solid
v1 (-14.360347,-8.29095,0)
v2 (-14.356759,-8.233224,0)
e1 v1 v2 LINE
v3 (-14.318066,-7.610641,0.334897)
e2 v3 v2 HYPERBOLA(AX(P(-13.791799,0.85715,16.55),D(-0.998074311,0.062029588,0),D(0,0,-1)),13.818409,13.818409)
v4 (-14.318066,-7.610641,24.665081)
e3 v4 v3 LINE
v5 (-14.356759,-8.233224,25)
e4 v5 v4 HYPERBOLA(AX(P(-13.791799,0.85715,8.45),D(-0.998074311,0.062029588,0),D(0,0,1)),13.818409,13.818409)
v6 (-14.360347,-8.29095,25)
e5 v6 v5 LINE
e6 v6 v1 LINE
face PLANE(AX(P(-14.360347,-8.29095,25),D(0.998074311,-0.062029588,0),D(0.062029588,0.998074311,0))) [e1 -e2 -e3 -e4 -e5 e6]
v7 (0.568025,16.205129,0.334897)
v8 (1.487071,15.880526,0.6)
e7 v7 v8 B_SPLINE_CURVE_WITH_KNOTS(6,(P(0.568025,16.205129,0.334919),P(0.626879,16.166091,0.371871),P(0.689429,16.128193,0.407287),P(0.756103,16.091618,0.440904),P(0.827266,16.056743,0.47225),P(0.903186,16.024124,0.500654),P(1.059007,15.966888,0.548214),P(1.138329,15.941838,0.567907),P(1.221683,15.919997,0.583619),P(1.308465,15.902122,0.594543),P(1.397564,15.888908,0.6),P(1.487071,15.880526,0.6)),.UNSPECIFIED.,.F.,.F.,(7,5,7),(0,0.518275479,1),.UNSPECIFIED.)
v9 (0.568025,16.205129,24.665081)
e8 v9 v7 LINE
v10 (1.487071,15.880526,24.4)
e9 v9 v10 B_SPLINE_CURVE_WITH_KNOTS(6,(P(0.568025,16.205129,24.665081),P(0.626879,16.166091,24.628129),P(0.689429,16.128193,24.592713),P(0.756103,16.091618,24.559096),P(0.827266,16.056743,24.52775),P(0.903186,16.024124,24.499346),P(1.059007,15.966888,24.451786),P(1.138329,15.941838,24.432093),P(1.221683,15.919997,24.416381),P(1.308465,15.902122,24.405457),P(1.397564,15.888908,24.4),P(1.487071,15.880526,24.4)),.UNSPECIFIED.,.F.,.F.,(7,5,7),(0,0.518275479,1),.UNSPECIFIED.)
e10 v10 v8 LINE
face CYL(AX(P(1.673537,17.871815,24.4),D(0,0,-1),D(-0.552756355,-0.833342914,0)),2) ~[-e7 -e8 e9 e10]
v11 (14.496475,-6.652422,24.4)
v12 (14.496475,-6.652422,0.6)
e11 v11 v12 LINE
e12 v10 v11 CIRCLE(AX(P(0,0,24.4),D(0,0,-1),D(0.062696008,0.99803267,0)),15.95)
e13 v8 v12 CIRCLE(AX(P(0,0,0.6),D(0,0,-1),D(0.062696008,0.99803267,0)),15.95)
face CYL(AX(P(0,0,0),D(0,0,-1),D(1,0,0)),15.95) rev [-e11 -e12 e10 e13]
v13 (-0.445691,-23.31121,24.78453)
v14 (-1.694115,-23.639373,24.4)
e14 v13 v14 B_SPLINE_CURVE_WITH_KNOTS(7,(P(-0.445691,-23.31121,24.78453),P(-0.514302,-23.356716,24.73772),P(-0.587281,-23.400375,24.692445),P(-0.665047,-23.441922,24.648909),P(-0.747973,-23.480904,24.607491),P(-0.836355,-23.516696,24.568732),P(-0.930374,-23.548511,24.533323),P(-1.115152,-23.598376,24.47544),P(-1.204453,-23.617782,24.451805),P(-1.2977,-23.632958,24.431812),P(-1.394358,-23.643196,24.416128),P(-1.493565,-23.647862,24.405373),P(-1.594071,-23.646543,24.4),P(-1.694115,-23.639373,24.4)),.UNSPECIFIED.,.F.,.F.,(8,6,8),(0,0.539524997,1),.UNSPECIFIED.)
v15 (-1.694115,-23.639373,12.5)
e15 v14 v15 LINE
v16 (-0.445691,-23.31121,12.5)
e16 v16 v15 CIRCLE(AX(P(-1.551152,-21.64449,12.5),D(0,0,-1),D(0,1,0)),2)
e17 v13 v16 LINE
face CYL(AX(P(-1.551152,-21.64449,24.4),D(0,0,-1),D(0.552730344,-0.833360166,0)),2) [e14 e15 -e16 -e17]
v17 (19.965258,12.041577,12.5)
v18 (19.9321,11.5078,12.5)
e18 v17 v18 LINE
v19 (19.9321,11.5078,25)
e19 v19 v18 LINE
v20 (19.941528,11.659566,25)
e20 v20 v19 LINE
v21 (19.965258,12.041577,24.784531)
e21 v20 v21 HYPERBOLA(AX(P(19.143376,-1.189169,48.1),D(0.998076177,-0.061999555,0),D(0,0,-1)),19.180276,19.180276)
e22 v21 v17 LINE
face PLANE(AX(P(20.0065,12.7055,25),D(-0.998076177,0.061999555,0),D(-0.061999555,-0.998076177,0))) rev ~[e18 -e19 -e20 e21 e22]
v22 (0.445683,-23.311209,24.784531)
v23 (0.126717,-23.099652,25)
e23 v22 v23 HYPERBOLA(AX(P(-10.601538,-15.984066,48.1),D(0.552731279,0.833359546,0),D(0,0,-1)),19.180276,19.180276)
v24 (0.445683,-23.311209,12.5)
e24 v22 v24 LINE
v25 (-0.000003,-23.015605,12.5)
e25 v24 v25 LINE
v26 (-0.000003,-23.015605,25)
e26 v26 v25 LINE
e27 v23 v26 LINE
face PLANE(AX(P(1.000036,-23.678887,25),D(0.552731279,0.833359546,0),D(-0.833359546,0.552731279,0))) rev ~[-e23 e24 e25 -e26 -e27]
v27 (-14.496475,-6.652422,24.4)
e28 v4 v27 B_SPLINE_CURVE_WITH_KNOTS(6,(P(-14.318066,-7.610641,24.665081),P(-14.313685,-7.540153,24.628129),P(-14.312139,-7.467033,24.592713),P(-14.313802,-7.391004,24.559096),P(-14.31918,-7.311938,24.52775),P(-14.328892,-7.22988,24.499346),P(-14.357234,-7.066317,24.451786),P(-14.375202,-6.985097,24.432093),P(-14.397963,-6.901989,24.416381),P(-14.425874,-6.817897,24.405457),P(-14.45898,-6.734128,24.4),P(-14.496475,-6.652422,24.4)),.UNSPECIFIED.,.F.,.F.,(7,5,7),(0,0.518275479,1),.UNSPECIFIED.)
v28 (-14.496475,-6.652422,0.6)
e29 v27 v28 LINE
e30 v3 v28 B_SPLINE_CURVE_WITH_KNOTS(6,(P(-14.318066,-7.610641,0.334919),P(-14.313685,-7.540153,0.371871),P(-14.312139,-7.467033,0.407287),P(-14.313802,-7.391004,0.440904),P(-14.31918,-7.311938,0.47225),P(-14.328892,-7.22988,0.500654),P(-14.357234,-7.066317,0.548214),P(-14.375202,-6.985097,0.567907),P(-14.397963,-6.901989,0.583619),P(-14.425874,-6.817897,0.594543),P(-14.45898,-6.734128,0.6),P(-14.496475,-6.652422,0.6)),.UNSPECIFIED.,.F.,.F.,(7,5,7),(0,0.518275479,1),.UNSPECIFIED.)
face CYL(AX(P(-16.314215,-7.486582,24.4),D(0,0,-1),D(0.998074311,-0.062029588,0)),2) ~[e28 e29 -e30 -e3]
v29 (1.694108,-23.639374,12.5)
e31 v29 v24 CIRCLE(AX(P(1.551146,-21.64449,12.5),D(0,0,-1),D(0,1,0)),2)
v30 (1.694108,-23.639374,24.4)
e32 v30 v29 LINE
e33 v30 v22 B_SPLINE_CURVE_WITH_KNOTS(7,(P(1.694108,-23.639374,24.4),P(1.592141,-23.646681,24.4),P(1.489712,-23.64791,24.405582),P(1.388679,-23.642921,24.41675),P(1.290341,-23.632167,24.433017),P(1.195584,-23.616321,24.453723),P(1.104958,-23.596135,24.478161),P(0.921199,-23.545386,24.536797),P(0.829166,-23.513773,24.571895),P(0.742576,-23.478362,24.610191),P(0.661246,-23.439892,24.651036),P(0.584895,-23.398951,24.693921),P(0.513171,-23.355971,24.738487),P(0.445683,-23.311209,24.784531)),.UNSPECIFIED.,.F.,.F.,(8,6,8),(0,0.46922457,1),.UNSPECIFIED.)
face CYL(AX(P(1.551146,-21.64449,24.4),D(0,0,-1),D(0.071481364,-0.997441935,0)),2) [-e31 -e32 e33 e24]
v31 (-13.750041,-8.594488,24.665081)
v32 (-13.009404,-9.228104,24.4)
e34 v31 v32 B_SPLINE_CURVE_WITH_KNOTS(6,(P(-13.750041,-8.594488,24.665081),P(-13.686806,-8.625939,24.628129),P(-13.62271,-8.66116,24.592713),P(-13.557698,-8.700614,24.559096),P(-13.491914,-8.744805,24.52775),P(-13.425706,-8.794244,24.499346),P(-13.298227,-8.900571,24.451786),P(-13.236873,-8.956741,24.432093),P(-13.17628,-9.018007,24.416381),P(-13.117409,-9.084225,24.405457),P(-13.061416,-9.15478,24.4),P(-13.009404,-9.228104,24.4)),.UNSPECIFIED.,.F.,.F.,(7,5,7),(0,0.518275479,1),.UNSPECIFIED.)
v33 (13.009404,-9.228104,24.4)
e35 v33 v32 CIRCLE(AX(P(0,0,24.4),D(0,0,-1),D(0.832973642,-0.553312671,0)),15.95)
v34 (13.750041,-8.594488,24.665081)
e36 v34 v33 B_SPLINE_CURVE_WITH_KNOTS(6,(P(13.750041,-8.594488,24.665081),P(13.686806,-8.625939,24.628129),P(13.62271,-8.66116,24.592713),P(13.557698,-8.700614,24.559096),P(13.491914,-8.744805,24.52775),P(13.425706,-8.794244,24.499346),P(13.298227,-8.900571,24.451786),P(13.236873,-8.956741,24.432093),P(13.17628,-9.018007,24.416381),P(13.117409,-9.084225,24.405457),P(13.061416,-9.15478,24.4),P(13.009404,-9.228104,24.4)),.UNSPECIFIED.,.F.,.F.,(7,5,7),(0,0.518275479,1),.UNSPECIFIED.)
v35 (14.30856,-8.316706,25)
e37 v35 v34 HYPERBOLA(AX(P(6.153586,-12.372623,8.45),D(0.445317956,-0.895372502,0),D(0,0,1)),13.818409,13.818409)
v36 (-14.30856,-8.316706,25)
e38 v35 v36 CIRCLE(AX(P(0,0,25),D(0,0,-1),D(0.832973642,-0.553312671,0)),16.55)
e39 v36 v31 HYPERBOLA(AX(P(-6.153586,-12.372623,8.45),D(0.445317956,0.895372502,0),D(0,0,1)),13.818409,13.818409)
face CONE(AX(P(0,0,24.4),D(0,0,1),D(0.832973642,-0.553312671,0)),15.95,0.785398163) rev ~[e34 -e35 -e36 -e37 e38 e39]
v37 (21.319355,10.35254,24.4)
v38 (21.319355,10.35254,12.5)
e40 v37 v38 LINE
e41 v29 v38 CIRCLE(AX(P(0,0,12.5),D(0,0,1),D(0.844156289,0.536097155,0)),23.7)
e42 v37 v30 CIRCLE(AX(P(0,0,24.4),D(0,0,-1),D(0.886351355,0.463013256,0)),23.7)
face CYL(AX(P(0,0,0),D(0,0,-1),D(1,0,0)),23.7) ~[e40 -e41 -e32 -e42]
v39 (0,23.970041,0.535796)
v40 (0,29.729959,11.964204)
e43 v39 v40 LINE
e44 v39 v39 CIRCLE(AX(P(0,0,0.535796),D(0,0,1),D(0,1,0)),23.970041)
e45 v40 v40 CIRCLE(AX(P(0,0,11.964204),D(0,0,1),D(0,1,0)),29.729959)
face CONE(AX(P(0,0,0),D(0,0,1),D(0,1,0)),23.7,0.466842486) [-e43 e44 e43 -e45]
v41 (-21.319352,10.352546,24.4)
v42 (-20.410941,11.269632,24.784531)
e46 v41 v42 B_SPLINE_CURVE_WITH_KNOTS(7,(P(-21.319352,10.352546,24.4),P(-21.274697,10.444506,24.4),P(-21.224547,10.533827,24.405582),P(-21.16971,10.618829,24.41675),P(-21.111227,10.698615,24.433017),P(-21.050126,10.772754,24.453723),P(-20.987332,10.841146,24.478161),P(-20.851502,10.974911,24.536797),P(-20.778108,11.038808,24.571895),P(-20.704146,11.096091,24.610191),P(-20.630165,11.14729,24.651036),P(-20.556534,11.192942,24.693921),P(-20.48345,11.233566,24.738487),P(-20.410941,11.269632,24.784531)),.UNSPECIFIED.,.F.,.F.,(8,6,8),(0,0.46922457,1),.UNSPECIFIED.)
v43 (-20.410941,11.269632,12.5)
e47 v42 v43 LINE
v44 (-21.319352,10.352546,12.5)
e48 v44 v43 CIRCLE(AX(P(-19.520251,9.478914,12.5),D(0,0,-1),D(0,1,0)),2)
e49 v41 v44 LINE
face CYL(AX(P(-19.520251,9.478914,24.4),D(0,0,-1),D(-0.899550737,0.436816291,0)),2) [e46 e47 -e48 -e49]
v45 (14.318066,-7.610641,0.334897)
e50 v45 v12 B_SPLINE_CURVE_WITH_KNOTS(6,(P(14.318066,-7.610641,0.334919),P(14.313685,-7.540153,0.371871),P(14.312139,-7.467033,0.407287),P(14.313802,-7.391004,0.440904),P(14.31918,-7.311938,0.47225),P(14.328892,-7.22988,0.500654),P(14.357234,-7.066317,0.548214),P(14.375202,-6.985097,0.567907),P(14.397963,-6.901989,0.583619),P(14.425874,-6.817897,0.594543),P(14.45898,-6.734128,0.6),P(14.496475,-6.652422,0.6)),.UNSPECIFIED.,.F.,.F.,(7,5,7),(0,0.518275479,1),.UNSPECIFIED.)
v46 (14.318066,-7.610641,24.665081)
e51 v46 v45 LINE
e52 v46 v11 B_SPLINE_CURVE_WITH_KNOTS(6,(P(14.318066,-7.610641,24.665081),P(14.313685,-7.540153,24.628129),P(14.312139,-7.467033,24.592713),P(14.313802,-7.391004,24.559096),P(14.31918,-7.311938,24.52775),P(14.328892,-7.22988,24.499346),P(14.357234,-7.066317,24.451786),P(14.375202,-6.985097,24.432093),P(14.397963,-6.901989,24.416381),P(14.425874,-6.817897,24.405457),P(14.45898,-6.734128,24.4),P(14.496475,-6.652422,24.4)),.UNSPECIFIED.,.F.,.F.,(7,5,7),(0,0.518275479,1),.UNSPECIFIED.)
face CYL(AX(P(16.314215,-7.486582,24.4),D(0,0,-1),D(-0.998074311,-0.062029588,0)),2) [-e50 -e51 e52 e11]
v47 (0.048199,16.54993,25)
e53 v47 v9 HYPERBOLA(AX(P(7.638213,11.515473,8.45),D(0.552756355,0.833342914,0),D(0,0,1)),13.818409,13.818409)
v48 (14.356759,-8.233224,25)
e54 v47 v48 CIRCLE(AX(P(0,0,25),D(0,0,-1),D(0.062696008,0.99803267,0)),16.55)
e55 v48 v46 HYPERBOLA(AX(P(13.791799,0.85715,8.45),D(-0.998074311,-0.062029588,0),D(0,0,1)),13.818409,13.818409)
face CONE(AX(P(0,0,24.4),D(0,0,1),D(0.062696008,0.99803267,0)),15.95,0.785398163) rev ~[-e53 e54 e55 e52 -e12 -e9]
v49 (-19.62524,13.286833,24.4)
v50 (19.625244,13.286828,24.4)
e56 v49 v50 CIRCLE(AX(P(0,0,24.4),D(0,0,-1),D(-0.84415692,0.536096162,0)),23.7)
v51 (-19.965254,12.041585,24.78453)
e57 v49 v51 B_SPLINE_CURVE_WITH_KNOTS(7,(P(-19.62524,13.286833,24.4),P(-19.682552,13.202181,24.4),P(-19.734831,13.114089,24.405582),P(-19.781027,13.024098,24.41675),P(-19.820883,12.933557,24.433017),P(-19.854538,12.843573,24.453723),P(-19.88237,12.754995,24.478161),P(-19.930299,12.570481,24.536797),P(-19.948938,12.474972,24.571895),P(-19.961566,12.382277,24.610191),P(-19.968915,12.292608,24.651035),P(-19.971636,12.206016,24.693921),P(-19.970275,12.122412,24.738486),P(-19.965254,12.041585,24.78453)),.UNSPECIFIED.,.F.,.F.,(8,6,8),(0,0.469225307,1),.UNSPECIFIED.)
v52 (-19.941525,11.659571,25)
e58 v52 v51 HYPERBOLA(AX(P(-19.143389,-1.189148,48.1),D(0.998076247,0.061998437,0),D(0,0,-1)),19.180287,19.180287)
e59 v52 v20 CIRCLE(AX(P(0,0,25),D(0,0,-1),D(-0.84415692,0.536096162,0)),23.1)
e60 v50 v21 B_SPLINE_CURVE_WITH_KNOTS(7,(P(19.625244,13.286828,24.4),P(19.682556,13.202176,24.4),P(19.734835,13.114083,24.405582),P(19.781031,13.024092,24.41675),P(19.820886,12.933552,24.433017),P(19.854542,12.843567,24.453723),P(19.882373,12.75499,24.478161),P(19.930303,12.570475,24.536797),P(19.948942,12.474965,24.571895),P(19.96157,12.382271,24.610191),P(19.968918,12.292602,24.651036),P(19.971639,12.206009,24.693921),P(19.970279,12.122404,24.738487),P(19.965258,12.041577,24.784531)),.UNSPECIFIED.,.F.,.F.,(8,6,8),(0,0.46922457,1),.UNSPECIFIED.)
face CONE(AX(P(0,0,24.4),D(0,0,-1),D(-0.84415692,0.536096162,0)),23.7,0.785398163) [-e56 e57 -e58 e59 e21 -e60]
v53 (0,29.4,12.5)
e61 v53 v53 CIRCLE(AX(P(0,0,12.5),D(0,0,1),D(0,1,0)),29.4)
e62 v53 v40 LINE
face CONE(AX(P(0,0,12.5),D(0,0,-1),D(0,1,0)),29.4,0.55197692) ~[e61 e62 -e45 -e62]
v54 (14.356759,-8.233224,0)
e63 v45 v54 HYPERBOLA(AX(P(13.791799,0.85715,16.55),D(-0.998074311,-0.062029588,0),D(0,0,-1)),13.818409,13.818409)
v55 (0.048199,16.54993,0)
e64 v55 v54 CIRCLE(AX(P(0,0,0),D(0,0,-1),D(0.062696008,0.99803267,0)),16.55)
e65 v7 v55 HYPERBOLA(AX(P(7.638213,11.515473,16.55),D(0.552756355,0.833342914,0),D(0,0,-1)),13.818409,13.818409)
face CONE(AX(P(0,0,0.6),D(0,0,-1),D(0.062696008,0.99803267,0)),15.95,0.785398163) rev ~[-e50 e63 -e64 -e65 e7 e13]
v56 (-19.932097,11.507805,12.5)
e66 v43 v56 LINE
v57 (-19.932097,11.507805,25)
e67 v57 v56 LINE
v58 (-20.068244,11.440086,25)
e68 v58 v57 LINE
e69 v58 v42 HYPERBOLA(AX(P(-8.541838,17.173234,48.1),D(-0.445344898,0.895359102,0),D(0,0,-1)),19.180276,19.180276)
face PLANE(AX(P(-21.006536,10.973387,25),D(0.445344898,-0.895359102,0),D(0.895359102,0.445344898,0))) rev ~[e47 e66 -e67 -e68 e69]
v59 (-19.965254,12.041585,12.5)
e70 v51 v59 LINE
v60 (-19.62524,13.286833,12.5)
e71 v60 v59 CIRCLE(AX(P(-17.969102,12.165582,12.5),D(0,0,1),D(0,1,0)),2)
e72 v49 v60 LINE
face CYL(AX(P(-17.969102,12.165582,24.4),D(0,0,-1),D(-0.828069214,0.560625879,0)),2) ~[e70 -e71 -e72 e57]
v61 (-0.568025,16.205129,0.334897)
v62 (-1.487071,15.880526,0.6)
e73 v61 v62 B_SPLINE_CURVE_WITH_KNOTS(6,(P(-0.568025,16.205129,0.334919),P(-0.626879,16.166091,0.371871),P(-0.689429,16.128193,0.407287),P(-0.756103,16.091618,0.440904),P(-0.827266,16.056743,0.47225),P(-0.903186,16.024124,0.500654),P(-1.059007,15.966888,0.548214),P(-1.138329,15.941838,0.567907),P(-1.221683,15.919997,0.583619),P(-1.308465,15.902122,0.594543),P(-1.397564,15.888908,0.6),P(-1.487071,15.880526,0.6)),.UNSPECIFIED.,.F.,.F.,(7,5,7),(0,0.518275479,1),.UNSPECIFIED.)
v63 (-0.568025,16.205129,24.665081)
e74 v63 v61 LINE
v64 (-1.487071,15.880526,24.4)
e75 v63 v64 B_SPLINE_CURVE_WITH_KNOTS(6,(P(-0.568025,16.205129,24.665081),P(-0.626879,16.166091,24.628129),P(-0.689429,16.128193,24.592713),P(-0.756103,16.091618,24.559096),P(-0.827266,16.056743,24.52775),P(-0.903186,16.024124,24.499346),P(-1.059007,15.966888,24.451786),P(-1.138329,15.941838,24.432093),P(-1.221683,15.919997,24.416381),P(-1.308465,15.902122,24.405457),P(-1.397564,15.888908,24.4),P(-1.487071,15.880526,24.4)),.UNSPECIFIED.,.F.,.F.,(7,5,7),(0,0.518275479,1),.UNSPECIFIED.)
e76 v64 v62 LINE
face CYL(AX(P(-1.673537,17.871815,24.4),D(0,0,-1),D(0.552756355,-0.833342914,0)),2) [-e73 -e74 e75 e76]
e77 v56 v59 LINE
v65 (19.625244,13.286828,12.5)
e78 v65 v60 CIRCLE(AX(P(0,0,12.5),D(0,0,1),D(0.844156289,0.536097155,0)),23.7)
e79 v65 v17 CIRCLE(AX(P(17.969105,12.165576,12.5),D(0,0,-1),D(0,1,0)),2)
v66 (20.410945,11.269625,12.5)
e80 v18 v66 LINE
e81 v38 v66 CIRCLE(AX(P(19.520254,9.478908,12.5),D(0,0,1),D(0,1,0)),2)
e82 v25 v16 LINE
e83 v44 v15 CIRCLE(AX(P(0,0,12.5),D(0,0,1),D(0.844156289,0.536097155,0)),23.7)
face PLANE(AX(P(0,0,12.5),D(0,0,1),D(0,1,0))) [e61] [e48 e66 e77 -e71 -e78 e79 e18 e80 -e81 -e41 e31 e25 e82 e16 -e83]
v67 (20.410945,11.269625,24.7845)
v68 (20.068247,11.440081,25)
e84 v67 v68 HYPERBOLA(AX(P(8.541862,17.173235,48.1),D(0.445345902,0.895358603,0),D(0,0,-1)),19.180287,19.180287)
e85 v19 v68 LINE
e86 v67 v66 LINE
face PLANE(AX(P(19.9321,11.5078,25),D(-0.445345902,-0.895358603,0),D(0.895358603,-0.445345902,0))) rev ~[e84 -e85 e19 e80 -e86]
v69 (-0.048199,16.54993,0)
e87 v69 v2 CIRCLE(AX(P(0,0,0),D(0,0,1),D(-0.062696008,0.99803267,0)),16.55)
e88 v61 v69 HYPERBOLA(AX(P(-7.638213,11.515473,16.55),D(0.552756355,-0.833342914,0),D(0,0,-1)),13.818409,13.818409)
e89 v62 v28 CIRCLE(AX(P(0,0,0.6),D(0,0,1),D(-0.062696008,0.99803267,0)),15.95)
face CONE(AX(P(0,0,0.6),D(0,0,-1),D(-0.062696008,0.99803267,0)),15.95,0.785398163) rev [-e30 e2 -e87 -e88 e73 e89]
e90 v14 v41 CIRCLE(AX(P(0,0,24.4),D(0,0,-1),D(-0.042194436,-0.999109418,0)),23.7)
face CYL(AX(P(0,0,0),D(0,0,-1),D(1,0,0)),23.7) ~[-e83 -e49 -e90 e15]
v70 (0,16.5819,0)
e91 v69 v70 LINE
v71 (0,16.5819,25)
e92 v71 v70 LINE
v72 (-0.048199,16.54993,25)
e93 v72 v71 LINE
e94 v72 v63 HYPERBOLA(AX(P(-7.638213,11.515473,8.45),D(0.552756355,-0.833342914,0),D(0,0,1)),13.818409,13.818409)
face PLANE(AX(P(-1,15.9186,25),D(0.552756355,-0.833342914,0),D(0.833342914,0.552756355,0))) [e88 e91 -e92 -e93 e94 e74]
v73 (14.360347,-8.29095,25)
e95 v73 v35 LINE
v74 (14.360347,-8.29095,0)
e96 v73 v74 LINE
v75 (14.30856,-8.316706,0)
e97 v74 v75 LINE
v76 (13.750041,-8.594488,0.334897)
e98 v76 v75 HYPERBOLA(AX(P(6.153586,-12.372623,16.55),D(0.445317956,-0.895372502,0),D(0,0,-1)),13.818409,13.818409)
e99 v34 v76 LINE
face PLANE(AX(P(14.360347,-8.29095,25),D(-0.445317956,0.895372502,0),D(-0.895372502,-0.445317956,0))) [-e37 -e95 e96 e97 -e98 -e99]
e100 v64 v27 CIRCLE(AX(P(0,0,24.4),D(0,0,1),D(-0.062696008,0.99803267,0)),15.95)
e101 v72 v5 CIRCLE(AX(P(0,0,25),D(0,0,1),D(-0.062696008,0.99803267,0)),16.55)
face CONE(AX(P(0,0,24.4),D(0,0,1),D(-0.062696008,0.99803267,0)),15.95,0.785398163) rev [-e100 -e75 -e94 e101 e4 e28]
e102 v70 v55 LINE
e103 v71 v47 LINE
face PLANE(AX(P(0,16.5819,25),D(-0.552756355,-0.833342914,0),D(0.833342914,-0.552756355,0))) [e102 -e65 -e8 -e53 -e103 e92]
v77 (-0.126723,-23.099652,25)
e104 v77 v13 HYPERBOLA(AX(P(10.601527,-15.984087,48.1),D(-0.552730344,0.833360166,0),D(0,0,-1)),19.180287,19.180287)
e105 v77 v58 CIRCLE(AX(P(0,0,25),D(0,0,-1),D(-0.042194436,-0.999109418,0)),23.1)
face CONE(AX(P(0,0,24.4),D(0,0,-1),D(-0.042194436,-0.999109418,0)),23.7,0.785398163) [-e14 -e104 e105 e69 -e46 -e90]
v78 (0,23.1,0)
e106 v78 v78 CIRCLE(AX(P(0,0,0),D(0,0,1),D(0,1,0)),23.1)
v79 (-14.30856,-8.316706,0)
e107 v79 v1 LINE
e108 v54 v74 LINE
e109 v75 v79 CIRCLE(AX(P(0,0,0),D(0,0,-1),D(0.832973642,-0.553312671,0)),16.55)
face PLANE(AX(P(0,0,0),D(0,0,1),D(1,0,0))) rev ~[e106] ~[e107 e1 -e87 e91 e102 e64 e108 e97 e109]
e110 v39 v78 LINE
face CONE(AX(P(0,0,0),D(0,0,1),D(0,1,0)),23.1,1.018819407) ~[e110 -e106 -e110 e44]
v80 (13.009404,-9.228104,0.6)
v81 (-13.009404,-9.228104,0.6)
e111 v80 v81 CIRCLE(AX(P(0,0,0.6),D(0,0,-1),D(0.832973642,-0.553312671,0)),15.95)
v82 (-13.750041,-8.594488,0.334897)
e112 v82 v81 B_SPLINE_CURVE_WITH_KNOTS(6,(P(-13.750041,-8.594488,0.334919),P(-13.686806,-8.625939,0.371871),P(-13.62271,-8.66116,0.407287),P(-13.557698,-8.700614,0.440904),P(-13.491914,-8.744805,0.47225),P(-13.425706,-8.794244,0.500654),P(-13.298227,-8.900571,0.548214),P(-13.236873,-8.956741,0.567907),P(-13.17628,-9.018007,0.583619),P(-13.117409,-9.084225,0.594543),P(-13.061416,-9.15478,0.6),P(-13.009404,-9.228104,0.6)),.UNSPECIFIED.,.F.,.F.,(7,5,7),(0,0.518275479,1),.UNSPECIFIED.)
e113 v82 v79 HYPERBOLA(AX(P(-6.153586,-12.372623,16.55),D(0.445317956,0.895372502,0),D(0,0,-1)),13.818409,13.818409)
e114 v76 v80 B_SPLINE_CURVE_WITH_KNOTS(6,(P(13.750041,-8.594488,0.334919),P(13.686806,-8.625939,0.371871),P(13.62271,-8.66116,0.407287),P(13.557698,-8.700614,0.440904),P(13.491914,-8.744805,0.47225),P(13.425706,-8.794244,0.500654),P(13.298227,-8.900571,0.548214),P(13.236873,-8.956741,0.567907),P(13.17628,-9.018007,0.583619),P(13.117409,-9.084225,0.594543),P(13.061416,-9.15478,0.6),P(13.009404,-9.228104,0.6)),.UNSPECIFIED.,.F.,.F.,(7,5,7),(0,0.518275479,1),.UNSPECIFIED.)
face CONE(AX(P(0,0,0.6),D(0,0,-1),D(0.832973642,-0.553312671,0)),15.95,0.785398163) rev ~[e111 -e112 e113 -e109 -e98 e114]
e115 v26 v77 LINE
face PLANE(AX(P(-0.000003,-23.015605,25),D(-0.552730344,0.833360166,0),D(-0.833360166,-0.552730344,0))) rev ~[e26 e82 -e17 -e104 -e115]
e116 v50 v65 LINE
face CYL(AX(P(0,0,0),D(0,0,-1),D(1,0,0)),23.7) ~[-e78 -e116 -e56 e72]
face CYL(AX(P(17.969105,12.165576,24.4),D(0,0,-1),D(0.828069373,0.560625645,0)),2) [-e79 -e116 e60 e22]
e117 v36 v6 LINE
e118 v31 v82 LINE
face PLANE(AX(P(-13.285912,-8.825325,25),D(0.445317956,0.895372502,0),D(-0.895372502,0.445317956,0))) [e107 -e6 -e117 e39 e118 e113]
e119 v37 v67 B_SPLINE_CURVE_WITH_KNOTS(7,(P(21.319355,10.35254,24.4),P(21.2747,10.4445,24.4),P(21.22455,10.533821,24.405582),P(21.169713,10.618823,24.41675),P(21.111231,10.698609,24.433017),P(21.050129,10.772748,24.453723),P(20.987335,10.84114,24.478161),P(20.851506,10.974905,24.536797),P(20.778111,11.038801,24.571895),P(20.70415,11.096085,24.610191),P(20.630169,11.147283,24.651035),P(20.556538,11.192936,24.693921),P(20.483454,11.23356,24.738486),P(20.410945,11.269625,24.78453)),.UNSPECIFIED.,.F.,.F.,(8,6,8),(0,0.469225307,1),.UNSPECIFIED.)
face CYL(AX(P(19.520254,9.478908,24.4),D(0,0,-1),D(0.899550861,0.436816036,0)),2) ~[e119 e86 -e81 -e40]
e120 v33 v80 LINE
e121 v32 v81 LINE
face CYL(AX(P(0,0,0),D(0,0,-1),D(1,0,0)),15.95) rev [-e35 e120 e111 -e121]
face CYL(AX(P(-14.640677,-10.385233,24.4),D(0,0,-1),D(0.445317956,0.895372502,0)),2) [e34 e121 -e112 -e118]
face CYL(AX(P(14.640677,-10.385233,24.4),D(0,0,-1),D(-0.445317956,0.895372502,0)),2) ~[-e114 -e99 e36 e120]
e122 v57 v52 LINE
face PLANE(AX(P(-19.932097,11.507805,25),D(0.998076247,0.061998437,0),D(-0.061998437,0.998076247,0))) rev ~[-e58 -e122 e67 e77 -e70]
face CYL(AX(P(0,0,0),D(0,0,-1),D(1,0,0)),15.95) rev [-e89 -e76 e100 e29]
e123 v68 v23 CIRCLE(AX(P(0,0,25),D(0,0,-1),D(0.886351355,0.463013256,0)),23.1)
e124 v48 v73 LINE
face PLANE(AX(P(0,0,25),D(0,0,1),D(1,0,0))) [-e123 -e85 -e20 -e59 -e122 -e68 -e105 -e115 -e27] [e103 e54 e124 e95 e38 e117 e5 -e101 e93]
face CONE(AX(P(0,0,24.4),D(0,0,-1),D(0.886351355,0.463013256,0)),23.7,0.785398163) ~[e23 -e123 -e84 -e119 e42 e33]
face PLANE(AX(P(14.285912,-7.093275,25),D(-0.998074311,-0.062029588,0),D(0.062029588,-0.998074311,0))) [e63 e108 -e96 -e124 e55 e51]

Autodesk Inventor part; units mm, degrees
ref_plane "YZ Plane" through (0, 0, 0) normal (1, 0, 0) x (0, 1, 0)
ref_plane "XZ Plane" through (0, 0, 0) normal (0, 1, 0) x (-1, 0, 0)
ref_plane "XY Plane" through (0, 0, 0) normal (0, 0, 1) x (1, 0, 0)
sketch "Sketch1" plane through (0, 0, 0) normal (0, 0, 1) x (1, 0, 0)
  circle A0 centre (0, 0) radius 15.95
  circle A1 centre (0, 0) radius 23.7
  dimension "d0" = 47.4
  dimension "d1" = 31.9
extrude "Extrusion1" add sketch "Sketch1" along normal blind 25
sketch "Sketch2" plane through (0, 0, 0) normal (1, 0, 0) x (0, 1, 0)
  line L0 (23.7, 0) -> (23.7, 25) projected
  line L1 (23.7, 0) -> (30, 12.5)
  line L2 (30, 12.5) -> (23.7, 12.5)
  line L3 (0, 0) -> (0, 25)
  line L4 (23.7, 25) -> (-23.7, 25) projected
  point P0 (0, 12.5)
  dimension "d4" = 12.5
  dimension "d5" = 60
revolve "Revolution1" add sketch "Sketch2" angle 360 about axis through (0, 0, 0) along (0, 0, 1)
sketch "Sketch3" plane through (0, 0, 25) normal (0, 0, 1) x (1, 0, 0)
  circle A0 centre (0, 0) radius 15.95 projected
  circle A1 centre (0, 0) radius 15.95 projected
  line L0 (-1, 15.9186) -> (0, 16.5819)
  line L1 (0, 16.5819) -> (1, 15.9186)
  line L2 (-1, 15.9186) -> (1, 15.9186)
  circle A2 centre (0, 0) radius 23.7 projected
  line L3 (20.0065, 12.7055) -> (19.9321, 11.5078)
  line L4 (19.9321, 11.5078) -> (21.0065, 10.9734)
  line L5 (20.0065, 12.7055) -> (21.0065, 10.9734)
  line L6 (20.5065, 11.8394) -> (0, 0) construction
  line L7 (0, 0) -> (0, 16.5819) construction
  dimension "d11" = 1.2
  dimension "d12" = 2
  dimension "d16" = 1.2
  dimension "d17" = 2
  dimension "d26" = 60
extrude "Extrusion2" cut sketch "Sketch3" against normal through all contours L2 A0 | A0 L0 L1 picked at (-0.1112, 15.9279)
extrude "Extrusion3" cut sketch "Sketch3" against normal up to surface (12.5 mm away) contours L5 A2 | L4 L3 L5
pattern_circular "Circular Pattern1" count 3 over 360 about axis through (0, 0, 0) along (0, 0, 1) of "Extrusion3"
pattern_circular "Circular Pattern2" count 3 over 360 about axis through (0, 0, 0) along (0, 0, 1) of "Extrusion2"
chamfer "Chamfer1" distance 0.6 angle 45 11 edges at (-13.8131, 7.975, 0) (0, -15.95, 0) (13.8131, 7.975, 0) (0, -23.7, 0) (0, -30, 12.5) (20.5248, -11.85, 25) (0, 23.7, 25) (-20.5248, -11.85, 25) (-13.8131, 7.975, 25) (0, -15.95, 25) (13.8131, 7.975, 25)
fillet "Fillet1" radius 2 12 edges at (-1, 15.9186, 12.5) (1, 15.9186, 12.5) (20.0065, 12.7055, 18.45) (21.0065, 10.9734, 18.45) (-1, -23.6789, 18.45) (1, -23.6789, 18.45) (-20.0065, 12.7055, 18.45) (-21.0065, 10.9734, 18.45) (-13.2859, -8.8253, 12.5) (-14.2859, -7.0933, 12.5) (13.2859, -8.8253, 12.5) (14.2859, -7.0933, 12.5)
properties part number "TouptekAdapterCylinder" material "ABS Plastic"
